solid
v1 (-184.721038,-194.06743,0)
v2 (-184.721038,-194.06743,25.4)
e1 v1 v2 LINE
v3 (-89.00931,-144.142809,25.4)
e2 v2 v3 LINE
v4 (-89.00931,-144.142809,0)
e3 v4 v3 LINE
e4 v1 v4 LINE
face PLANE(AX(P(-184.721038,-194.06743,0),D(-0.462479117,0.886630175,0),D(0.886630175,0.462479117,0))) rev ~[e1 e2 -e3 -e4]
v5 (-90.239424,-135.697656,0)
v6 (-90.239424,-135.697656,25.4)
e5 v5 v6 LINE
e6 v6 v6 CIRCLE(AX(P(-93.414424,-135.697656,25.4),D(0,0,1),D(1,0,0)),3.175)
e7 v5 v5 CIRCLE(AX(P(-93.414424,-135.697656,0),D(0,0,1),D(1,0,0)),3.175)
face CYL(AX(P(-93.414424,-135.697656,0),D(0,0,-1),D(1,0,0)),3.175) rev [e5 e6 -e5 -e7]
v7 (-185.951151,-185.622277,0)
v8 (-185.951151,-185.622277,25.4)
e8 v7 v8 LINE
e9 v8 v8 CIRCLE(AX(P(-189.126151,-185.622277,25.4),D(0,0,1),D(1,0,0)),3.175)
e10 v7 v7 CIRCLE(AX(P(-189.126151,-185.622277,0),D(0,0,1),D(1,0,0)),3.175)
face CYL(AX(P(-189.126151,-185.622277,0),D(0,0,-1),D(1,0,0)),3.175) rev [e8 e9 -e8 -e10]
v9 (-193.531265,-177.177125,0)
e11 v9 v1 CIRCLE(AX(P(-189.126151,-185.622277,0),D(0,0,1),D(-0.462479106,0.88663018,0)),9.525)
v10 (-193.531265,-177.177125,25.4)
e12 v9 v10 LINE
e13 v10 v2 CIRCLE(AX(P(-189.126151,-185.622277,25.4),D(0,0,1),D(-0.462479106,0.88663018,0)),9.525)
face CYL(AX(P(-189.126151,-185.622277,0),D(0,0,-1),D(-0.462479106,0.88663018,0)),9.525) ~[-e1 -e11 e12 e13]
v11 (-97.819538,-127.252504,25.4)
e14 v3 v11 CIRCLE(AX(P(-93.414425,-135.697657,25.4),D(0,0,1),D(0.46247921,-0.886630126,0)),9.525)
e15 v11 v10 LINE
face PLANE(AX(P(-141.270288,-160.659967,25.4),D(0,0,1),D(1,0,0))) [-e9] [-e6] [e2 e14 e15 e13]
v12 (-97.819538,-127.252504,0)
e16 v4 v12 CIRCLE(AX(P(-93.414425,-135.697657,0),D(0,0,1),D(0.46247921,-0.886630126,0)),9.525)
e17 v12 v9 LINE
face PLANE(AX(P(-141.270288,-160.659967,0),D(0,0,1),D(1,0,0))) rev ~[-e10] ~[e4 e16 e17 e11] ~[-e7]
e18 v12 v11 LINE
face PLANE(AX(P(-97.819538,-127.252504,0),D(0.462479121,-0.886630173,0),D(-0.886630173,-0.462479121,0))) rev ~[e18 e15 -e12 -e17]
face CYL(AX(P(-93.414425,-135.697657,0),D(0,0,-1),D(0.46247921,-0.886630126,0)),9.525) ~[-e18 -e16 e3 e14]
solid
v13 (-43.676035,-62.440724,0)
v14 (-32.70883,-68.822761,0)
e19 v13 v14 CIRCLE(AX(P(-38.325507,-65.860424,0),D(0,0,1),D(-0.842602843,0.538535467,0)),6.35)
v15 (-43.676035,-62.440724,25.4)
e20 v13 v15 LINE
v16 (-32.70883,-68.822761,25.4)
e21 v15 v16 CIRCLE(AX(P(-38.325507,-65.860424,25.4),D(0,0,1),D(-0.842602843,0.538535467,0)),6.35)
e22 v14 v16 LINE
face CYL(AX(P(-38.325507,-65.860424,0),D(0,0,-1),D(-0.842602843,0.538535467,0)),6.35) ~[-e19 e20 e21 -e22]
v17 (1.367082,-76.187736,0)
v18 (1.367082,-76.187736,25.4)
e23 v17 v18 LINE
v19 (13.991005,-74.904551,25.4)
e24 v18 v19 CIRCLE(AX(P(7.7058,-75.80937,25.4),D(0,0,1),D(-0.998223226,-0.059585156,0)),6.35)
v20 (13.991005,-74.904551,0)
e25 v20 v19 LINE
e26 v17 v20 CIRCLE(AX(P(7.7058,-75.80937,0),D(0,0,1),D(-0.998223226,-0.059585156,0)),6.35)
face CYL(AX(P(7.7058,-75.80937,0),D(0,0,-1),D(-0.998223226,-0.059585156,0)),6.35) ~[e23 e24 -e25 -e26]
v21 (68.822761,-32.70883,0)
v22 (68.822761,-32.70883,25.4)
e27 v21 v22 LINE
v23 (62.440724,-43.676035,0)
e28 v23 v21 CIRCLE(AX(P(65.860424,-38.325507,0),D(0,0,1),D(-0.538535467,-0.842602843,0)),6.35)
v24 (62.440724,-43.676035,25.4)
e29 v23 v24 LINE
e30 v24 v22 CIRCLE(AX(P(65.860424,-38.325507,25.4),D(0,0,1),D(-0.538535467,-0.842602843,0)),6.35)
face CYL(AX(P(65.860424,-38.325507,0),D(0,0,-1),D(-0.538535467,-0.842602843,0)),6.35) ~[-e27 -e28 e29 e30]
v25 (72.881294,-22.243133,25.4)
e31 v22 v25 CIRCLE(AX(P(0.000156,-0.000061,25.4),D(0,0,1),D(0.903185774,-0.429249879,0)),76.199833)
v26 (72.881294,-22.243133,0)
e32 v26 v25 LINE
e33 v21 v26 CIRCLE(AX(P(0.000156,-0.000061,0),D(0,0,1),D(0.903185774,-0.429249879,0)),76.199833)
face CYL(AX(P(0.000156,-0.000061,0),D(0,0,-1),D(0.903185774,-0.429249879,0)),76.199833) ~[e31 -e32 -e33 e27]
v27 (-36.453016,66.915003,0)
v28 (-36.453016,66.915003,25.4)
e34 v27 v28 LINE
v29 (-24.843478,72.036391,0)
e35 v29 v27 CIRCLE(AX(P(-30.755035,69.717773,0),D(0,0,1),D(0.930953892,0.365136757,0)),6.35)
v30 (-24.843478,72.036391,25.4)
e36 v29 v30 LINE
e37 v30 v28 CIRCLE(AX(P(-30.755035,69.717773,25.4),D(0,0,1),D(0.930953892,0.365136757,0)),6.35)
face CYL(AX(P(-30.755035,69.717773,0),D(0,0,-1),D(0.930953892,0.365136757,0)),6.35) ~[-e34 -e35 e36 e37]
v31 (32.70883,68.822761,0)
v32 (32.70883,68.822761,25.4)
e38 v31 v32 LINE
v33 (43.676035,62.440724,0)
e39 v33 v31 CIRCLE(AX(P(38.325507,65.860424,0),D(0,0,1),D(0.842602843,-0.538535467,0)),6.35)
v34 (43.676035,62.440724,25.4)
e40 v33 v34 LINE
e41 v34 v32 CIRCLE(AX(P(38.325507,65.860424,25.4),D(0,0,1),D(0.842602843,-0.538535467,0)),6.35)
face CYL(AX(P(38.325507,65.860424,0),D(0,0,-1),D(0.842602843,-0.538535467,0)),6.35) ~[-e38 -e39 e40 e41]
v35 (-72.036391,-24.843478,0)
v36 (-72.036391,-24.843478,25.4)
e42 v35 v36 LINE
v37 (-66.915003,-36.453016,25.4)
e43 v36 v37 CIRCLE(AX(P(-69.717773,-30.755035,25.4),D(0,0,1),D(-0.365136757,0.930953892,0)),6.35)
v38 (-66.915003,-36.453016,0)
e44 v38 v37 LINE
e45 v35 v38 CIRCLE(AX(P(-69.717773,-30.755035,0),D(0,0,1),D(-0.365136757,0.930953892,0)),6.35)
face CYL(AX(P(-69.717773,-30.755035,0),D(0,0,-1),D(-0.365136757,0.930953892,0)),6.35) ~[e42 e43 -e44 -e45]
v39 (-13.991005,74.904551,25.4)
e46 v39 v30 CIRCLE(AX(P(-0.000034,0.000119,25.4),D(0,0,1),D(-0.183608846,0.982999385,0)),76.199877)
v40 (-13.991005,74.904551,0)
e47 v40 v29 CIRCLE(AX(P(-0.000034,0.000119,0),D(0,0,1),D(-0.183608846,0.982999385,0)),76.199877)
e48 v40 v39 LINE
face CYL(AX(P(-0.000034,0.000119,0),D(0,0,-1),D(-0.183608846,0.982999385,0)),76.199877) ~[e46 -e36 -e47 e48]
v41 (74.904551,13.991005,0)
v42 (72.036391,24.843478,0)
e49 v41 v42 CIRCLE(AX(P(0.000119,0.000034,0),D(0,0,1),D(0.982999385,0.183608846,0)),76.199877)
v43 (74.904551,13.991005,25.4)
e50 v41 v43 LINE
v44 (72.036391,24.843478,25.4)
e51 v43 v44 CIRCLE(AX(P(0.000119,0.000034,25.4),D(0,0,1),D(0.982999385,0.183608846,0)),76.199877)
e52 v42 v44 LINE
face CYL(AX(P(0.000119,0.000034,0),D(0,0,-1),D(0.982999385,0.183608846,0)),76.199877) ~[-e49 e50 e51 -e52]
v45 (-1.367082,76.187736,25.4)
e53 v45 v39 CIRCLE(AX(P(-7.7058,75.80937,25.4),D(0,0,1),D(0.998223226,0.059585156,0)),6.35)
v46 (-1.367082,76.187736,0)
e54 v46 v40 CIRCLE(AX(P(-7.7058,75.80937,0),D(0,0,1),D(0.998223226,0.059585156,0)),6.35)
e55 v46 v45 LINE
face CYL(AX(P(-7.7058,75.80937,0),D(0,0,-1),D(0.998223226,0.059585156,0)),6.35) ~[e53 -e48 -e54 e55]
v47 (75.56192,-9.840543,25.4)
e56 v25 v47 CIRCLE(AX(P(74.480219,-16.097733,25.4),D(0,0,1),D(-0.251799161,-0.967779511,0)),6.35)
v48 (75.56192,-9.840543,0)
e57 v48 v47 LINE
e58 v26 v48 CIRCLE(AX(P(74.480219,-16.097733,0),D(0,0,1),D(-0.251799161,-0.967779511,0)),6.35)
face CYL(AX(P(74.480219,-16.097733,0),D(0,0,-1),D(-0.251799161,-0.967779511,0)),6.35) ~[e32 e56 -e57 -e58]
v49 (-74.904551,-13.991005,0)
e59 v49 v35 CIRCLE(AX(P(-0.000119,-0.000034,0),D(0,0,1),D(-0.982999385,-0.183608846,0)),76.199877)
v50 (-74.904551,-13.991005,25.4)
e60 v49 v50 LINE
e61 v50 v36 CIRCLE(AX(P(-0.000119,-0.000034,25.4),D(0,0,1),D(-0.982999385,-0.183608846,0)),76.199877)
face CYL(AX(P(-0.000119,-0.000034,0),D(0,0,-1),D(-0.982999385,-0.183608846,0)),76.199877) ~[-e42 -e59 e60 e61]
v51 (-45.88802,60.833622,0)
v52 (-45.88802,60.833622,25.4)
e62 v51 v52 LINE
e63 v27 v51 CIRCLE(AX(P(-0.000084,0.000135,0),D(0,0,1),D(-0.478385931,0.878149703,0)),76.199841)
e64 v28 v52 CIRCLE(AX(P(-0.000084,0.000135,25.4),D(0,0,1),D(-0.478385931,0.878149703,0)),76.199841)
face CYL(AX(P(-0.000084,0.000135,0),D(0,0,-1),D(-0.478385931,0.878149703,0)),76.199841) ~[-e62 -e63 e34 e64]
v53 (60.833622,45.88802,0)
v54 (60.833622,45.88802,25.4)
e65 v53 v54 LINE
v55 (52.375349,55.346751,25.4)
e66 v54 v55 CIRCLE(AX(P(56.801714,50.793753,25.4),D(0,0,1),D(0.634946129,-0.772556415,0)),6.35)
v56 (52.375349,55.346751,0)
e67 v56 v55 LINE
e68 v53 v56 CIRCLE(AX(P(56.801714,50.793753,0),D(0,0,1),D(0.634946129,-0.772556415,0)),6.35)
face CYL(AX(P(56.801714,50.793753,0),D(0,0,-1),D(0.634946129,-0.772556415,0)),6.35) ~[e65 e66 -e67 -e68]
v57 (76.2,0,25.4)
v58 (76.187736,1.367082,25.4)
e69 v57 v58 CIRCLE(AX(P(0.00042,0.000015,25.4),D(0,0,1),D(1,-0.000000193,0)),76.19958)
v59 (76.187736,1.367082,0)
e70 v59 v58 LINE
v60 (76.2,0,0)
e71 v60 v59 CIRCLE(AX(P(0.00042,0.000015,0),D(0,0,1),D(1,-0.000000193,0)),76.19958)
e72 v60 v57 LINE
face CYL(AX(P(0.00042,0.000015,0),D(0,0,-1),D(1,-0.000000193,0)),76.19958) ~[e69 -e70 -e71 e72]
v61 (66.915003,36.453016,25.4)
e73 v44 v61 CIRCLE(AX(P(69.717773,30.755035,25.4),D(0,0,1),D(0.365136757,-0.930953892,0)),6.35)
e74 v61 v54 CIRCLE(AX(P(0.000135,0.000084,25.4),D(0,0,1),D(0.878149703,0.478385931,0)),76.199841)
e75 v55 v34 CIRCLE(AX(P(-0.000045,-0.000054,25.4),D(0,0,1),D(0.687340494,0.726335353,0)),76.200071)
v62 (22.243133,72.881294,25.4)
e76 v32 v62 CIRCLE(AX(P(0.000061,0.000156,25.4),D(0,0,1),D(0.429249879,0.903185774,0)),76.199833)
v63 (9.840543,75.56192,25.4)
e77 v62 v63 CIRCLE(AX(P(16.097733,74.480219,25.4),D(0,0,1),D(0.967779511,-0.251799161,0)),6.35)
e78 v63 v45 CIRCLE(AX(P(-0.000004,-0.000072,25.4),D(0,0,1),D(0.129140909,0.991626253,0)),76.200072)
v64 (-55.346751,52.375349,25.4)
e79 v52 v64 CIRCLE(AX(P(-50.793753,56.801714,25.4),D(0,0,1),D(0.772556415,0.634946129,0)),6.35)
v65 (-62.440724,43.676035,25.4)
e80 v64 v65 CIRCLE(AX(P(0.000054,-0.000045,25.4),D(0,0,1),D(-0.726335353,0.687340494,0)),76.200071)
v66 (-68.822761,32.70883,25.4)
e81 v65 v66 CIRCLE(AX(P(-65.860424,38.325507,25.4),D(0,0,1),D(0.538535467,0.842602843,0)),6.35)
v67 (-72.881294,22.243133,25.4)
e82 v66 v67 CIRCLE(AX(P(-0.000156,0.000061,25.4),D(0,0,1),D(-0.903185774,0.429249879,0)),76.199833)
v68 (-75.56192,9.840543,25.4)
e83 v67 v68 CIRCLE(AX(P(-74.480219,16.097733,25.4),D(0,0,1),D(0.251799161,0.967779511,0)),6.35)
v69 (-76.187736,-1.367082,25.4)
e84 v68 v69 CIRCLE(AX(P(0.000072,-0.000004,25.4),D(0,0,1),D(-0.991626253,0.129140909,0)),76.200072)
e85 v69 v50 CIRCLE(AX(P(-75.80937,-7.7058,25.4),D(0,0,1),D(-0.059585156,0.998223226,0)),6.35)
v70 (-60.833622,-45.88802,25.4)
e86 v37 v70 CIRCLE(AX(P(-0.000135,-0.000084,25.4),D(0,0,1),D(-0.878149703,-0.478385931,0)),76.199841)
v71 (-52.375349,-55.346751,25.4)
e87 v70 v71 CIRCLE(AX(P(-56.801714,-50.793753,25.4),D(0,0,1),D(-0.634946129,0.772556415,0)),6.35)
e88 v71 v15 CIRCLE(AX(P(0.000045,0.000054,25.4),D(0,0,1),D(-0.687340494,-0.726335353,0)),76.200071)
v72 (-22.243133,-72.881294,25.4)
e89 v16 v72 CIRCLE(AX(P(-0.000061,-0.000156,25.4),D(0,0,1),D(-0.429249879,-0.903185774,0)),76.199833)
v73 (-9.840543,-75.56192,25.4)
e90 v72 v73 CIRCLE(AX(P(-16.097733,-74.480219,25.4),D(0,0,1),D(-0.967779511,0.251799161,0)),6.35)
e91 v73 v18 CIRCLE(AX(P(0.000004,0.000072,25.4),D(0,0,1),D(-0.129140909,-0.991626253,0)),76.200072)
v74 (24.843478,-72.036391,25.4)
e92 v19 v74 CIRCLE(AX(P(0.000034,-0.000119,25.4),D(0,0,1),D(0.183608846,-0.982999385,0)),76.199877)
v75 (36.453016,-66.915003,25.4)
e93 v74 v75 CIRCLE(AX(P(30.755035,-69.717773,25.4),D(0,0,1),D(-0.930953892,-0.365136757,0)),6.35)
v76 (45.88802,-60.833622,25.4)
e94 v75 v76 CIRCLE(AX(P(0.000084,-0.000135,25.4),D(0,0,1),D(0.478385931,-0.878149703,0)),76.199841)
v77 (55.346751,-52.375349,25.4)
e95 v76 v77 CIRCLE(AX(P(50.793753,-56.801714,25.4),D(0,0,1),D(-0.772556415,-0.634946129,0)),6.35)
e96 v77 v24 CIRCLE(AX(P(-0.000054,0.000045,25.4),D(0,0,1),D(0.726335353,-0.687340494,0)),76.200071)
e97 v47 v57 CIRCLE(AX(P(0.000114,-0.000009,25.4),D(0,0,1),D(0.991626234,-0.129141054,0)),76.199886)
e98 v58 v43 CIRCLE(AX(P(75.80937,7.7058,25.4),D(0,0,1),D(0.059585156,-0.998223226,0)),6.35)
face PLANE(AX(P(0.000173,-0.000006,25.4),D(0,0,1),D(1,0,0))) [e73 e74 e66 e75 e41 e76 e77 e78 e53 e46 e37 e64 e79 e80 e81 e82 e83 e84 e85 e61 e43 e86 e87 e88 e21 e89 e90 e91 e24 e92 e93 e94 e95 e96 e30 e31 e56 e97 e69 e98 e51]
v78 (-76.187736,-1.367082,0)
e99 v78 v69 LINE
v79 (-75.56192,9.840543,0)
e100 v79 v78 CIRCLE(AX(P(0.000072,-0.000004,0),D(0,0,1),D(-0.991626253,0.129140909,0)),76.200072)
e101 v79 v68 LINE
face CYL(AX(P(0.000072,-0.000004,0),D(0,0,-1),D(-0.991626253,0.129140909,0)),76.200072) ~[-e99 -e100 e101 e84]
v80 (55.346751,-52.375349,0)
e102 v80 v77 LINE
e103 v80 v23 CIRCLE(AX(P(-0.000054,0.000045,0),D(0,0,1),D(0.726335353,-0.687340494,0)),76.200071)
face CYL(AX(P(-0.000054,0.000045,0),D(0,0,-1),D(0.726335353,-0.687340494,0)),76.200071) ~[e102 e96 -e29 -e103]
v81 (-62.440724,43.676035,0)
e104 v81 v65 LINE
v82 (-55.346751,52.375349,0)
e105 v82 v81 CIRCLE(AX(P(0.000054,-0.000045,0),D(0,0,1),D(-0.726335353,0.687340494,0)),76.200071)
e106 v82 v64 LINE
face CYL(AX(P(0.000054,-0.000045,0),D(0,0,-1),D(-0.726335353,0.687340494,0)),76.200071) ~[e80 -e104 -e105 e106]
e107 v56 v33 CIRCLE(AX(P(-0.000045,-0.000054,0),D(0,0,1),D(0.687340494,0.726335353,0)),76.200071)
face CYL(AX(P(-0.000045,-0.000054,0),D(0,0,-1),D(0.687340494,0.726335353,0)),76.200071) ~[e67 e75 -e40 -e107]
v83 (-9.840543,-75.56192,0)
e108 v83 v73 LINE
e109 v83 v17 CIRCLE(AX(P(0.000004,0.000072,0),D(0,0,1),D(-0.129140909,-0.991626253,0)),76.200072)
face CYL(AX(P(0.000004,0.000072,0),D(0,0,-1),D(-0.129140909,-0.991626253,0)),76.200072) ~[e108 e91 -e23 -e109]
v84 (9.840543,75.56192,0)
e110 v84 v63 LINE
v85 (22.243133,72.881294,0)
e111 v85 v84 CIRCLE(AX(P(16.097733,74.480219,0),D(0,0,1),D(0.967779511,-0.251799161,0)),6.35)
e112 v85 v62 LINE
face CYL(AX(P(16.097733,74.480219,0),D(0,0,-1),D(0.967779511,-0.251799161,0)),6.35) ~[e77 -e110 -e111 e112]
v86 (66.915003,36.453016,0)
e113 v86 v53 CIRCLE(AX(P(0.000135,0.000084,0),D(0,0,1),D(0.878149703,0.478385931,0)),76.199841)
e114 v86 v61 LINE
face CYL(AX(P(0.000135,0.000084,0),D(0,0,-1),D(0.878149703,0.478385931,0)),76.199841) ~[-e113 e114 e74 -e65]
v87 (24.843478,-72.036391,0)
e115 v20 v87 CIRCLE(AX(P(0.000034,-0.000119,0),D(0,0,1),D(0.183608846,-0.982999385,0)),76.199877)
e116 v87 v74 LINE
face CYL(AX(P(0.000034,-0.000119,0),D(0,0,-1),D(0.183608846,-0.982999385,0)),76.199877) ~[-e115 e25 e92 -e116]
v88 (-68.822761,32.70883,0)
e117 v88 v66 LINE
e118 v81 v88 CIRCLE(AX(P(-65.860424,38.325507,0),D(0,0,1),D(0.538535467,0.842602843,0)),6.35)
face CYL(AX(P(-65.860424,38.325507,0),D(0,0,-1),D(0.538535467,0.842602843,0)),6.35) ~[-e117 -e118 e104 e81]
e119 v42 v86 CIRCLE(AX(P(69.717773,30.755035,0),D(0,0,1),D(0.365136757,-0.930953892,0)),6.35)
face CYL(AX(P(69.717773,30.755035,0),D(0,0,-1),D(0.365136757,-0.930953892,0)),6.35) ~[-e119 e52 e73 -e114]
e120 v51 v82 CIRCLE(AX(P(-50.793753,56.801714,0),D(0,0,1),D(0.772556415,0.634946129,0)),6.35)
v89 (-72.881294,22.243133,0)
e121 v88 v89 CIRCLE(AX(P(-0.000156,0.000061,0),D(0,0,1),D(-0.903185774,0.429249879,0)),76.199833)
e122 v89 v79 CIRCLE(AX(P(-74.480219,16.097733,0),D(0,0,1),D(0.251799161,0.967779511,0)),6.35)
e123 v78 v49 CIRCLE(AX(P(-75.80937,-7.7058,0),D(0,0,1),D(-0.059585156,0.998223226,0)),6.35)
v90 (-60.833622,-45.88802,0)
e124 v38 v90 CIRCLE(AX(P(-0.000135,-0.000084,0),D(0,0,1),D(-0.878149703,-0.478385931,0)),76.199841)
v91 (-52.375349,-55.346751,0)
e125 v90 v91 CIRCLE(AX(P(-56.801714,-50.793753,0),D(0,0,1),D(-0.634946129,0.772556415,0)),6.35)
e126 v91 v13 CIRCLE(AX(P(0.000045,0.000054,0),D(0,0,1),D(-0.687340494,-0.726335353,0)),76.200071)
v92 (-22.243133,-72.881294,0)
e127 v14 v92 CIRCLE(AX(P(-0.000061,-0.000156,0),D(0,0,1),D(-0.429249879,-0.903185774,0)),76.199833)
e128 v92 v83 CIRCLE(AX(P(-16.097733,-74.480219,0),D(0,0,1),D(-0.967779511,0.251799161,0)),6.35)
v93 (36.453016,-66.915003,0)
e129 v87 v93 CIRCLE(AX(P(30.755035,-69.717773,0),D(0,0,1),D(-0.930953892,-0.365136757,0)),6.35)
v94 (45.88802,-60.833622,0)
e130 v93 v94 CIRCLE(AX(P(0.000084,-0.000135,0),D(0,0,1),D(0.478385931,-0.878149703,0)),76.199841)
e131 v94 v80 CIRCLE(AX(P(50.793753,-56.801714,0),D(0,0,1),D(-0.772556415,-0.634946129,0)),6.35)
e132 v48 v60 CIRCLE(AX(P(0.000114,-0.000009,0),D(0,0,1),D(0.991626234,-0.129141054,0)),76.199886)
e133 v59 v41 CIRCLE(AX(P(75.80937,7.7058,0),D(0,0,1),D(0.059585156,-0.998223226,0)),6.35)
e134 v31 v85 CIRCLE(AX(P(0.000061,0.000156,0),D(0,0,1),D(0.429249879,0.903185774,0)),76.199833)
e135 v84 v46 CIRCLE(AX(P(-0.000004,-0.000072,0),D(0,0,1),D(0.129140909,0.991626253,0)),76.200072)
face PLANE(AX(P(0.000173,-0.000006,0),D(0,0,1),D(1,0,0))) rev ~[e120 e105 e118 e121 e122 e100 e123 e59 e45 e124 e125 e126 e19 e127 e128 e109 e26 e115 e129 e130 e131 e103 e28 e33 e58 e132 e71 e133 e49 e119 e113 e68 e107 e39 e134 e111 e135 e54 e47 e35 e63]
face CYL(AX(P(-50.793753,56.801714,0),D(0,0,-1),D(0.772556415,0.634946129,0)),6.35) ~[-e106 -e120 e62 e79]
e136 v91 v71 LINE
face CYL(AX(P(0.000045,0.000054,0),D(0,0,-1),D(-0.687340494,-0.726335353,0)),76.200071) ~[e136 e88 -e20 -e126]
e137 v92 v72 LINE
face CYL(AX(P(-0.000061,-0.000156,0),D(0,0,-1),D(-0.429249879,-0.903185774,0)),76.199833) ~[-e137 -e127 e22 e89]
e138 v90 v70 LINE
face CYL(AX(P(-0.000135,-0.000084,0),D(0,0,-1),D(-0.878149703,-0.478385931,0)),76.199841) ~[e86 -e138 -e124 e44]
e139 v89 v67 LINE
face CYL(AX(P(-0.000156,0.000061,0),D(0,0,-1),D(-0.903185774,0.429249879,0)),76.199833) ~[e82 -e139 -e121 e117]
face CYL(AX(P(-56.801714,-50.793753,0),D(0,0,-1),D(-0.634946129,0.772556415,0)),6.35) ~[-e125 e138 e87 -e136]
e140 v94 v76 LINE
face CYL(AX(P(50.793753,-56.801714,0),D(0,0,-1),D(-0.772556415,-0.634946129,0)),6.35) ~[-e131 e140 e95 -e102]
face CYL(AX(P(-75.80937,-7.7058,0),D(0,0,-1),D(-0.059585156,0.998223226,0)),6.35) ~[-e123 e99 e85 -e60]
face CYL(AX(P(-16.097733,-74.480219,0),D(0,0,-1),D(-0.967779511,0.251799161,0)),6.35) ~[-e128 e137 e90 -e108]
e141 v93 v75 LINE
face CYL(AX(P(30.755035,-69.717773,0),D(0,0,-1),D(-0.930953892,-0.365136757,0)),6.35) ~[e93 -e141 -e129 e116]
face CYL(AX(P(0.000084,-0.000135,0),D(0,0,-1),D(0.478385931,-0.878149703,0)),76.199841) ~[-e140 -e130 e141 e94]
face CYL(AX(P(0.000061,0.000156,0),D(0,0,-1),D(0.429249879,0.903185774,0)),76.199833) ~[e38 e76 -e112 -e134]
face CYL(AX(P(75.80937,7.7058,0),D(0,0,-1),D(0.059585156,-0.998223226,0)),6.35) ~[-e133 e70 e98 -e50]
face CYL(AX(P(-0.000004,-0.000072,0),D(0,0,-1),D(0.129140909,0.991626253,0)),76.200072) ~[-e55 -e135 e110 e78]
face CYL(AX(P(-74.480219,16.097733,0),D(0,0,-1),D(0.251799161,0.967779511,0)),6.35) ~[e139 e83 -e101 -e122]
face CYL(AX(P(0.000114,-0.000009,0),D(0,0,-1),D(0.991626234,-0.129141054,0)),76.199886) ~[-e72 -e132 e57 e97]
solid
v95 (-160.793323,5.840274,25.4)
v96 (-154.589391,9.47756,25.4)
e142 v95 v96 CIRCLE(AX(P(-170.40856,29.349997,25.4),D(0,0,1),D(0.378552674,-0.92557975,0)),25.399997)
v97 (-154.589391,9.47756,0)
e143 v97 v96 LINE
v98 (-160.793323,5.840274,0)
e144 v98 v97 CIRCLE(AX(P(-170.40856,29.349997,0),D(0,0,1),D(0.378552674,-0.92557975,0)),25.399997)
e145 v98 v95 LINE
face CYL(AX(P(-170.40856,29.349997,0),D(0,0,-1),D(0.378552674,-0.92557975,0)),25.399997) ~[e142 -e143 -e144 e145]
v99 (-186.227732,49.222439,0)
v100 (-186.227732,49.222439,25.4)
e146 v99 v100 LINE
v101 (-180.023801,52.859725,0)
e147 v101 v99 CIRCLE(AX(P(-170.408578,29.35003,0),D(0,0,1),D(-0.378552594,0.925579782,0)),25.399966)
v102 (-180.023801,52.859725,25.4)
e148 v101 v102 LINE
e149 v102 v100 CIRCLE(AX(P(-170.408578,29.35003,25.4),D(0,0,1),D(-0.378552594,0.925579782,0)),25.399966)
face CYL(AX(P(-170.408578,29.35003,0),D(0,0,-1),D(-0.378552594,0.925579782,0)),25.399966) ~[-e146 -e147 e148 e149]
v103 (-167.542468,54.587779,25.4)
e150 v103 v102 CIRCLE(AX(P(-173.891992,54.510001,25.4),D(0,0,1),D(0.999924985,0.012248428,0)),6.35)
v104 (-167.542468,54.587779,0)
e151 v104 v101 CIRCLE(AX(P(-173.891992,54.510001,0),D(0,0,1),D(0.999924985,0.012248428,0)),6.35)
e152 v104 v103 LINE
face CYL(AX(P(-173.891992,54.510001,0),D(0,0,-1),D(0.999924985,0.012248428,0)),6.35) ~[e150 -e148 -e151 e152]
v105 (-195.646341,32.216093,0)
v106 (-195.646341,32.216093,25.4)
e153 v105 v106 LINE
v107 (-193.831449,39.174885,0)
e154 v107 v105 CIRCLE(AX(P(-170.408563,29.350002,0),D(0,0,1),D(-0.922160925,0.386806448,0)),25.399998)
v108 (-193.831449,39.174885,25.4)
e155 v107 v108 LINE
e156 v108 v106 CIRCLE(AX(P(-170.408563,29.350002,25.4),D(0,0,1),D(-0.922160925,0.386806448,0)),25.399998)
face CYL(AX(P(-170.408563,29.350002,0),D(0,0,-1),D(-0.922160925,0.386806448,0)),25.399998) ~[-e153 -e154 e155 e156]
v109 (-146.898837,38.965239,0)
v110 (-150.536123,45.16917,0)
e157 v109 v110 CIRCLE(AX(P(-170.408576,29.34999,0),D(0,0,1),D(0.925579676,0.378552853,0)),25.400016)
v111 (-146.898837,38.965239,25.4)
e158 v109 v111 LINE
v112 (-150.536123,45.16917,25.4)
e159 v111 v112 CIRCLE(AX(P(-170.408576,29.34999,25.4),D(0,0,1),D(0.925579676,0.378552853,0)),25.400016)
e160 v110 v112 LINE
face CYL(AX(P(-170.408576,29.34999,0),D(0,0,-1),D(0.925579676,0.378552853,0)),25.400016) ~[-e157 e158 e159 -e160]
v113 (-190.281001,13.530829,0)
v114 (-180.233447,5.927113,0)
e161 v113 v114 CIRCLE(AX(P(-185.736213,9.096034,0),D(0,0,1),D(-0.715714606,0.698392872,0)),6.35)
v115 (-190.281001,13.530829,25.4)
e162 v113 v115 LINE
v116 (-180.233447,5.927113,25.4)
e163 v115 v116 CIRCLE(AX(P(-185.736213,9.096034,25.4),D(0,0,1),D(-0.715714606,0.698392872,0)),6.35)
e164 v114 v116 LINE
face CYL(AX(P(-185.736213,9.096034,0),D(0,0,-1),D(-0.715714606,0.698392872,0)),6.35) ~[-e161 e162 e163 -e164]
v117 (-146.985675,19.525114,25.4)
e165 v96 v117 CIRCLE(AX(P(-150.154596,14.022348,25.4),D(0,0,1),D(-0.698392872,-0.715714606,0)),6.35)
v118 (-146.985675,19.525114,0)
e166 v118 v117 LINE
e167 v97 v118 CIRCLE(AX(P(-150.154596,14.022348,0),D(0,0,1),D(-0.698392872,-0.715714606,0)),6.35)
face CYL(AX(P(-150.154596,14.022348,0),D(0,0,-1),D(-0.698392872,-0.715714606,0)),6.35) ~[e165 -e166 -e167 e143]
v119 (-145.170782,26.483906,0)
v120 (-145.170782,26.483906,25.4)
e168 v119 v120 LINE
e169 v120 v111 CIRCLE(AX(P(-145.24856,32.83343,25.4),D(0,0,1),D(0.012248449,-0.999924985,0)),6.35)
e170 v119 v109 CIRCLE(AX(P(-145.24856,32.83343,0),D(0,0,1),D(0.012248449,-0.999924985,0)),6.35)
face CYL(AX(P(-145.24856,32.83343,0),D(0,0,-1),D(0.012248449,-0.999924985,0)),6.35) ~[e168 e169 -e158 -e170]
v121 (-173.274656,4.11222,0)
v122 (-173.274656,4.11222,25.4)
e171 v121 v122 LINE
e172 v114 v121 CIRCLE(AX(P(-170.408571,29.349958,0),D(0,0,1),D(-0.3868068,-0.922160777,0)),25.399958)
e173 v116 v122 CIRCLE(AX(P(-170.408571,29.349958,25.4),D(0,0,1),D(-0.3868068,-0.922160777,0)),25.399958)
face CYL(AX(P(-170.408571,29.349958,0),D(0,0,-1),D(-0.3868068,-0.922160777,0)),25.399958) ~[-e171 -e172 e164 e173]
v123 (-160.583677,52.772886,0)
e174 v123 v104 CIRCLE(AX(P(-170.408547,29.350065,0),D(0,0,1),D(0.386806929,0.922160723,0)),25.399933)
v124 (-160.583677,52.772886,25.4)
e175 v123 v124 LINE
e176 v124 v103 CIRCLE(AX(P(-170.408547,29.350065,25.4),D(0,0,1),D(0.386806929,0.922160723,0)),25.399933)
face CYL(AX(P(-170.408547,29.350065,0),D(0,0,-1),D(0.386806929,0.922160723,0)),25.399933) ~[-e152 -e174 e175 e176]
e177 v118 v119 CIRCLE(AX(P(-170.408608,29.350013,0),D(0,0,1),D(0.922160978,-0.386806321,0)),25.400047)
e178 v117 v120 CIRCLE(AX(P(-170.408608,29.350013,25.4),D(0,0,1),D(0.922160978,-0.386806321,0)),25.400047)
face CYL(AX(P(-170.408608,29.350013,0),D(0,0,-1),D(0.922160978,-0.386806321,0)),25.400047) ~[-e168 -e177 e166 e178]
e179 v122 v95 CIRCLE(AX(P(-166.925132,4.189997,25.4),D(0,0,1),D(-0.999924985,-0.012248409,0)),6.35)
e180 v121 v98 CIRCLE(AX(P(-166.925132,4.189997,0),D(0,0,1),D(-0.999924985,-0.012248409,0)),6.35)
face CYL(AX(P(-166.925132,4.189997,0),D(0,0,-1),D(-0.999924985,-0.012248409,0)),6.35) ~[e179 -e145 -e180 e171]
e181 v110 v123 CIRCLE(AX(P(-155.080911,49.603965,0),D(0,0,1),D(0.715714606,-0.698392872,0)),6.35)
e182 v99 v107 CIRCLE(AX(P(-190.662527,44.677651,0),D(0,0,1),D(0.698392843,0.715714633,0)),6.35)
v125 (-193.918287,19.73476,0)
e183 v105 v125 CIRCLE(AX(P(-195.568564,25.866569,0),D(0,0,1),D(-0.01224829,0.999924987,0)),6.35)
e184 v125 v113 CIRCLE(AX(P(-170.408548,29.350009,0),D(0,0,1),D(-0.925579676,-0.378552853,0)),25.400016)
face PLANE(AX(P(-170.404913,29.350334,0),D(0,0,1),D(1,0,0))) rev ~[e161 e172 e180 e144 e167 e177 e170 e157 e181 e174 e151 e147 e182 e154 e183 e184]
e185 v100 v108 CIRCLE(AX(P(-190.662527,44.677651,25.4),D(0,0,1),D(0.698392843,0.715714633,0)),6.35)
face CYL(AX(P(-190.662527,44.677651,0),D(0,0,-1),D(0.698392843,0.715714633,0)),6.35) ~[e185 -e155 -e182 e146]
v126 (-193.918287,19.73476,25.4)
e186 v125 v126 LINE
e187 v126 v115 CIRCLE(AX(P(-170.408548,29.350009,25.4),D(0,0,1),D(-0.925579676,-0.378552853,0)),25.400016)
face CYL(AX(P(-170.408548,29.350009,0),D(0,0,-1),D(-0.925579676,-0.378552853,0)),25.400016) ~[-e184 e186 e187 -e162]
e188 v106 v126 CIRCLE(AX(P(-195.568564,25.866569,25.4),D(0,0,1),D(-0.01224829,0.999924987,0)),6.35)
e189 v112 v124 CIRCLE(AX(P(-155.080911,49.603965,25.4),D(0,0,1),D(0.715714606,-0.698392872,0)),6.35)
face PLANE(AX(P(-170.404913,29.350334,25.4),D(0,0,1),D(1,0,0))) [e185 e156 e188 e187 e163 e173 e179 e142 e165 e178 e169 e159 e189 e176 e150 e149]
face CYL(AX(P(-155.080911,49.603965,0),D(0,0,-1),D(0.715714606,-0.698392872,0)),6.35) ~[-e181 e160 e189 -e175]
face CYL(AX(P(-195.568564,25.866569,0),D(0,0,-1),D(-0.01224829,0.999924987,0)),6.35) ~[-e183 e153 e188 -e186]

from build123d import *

# Parameters (mm, degrees)
F1_DEPTH = 25.4
F3_DEPTH = 25.4
F4_R     = 3.175
F5_DEPTH = 25.4


with BuildPart() as f1:
    # F0 (on Top) → F1 (new body)
    with BuildSketch(Plane.XY):
        with BuildLine():
            ThreePointArc((75.56192, -9.840543), (76.040313, -4.930604), (76.2, 0))
            ThreePointArc((76.2, 0), (76.196934, 0.683569), (76.187736, 1.367082))
            ThreePointArc((76.187736, 1.367082), (75.80937, 7.7058), (74.904551, 13.991005))
            ThreePointArc((74.904551, 13.991005), (73.670579, 19.470127), (72.036391, 24.843478))
            ThreePointArc((72.036391, 24.843478), (69.717773, 30.755035), (66.915003, 36.453016))
            ThreePointArc((66.915003, 36.453016), (64.048284, 41.282652), (60.833622, 45.88802))
            ThreePointArc((60.833622, 45.88802), (56.801714, 50.793753), (52.375349, 55.346751))
            ThreePointArc((52.375349, 55.346751), (48.156497, 59.054143), (43.676035, 62.440724))
            ThreePointArc((43.676035, 62.440724), (38.325507, 65.860425), (32.70883, 68.822761))
            ThreePointArc((32.70883, 68.822761), (27.550816, 71.045004), (22.243133, 72.881294))
            ThreePointArc((22.243133, 72.881294), (16.097733, 74.480219), (9.840543, 75.56192))
            ThreePointArc((9.840543, 75.56192), (4.24827, 76.081484), (-1.367082, 76.187736))
            ThreePointArc((-1.367082, 76.187736), (-7.7058, 75.80937), (-13.991005, 74.904551))
            ThreePointArc((-13.991005, 74.904551), (-19.470127, 73.670579), (-24.843478, 72.036391))
            ThreePointArc((-24.843478, 72.036391), (-30.755035, 69.717773), (-36.453016, 66.915003))
            ThreePointArc((-36.453016, 66.915003), (-41.282652, 64.048284), (-45.88802, 60.833622))
            ThreePointArc((-45.88802, 60.833622), (-50.793753, 56.801714), (-55.346751, 52.375349))
            ThreePointArc((-55.346751, 52.375349), (-59.054143, 48.156497), (-62.440724, 43.676035))
            ThreePointArc((-62.440724, 43.676035), (-65.860425, 38.325507), (-68.822761, 32.70883))
            ThreePointArc((-68.822761, 32.70883), (-71.045004, 27.550816), (-72.881294, 22.243133))
            ThreePointArc((-72.881294, 22.243133), (-74.480219, 16.097733), (-75.56192, 9.840543))
            ThreePointArc((-75.56192, 9.840543), (-76.081484, 4.24827), (-76.187736, -1.367082))
            ThreePointArc((-76.187736, -1.367082), (-75.80937, -7.7058), (-74.904551, -13.991005))
            ThreePointArc((-74.904551, -13.991005), (-73.670579, -19.470127), (-72.036391, -24.843478))
            ThreePointArc((-72.036391, -24.843478), (-69.717773, -30.755035), (-66.915003, -36.453016))
            ThreePointArc((-66.915003, -36.453016), (-64.048284, -41.282652), (-60.833622, -45.88802))
            ThreePointArc((-60.833622, -45.88802), (-56.801714, -50.793753), (-52.375349, -55.346751))
            ThreePointArc((-52.375349, -55.346751), (-48.156497, -59.054143), (-43.676035, -62.440724))
            ThreePointArc((-43.676035, -62.440724), (-38.325507, -65.860425), (-32.70883, -68.822761))
            ThreePointArc((-32.70883, -68.822761), (-27.550816, -71.045004), (-22.243133, -72.881294))
            ThreePointArc((-22.243133, -72.881294), (-16.097733, -74.480219), (-9.840543, -75.56192))
            ThreePointArc((-9.840543, -75.56192), (-4.24827, -76.081484), (1.367082, -76.187736))
            ThreePointArc((1.367082, -76.187736), (7.7058, -75.80937), (13.991005, -74.904551))
            ThreePointArc((13.991005, -74.904551), (19.470127, -73.670579), (24.843478, -72.036391))
            ThreePointArc((24.843478, -72.036391), (30.755035, -69.717773), (36.453016, -66.915003))
            ThreePointArc((36.453016, -66.915003), (41.282652, -64.048284), (45.88802, -60.833622))
            ThreePointArc((45.88802, -60.833622), (50.793753, -56.801714), (55.346751, -52.375349))
            ThreePointArc((55.346751, -52.375349), (59.054143, -48.156497), (62.440724, -43.676035))
            ThreePointArc((62.440724, -43.676035), (65.860425, -38.325507), (68.822761, -32.70883))
            ThreePointArc((68.822761, -32.70883), (71.045004, -27.550816), (72.881294, -22.243133))
            ThreePointArc((72.881294, -22.243133), (74.480219, -16.097733), (75.56192, -9.840543))
        make_face()
        with BuildLine():
            ThreePointArc((-55.346751, 52.375349), (-50.793753, 56.801714), (-45.88802, 60.833622))
            ThreePointArc((-45.88802, 60.833622), (-55.026566, 61.53519), (-55.346751, 52.375349))
        make_face()
        with BuildLine():
            ThreePointArc((-68.822761, 32.70883), (-65.860425, 38.325507), (-62.440724, 43.676035))
            ThreePointArc((-62.440724, 43.676035), (-71.348793, 41.519299), (-68.822761, 32.70883))
        make_face()
        with BuildLine():
            ThreePointArc((-75.56192, 9.840543), (-74.480219, 16.097733), (-72.881294, 22.243133))
            ThreePointArc((-72.881294, 22.243133), (-80.686904, 17.43921), (-75.56192, 9.840543))
        make_face()
        with BuildLine():
            ThreePointArc((-76.187736, -1.367082), (-82.126818, -8.34795), (-74.904551, -13.991005))
            ThreePointArc((-74.904551, -13.991005), (-75.80937, -7.7058), (-76.187736, -1.367082))
        make_face()
        with BuildLine():
            ThreePointArc((-72.036391, -24.843478), (-75.527587, -33.317955), (-66.915003, -36.453016))
            ThreePointArc((-66.915003, -36.453016), (-69.717773, -30.755035), (-72.036391, -24.843478))
        make_face()
        with BuildLine():
            ThreePointArc((-60.833622, -45.88802), (-61.53519, -55.026566), (-52.375349, -55.346751))
            ThreePointArc((-52.375349, -55.346751), (-56.801714, -50.793753), (-60.833622, -45.88802))
        make_face()
        with BuildLine():
            ThreePointArc((-43.676035, -62.440724), (-41.519299, -71.348793), (-32.70883, -68.822761))
            ThreePointArc((-32.70883, -68.822761), (-38.325507, -65.860425), (-43.676035, -62.440724))
        make_face()
        with BuildLine():
            ThreePointArc((-22.243133, -72.881294), (-17.43921, -80.686904), (-9.840543, -75.56192))
            ThreePointArc((-9.840543, -75.56192), (-16.097733, -74.480219), (-22.243133, -72.881294))
        make_face()
        with BuildLine():
            ThreePointArc((1.367082, -76.187736), (8.34795, -82.126818), (13.991005, -74.904551))
            ThreePointArc((13.991005, -74.904551), (7.7058, -75.80937), (1.367082, -76.187736))
        make_face()
        with BuildLine():
            ThreePointArc((24.843478, -72.036391), (33.317955, -75.527587), (36.453016, -66.915003))
            ThreePointArc((36.453016, -66.915003), (30.755035, -69.717773), (24.843478, -72.036391))
        make_face()
        with BuildLine():
            ThreePointArc((45.88802, -60.833622), (55.026566, -61.53519), (55.346751, -52.375349))
            ThreePointArc((55.346751, -52.375349), (50.793753, -56.801714), (45.88802, -60.833622))
        make_face()
        with BuildLine():
            ThreePointArc((62.440724, -43.676035), (71.348793, -41.519299), (68.822761, -32.70883))
            ThreePointArc((68.822761, -32.70883), (65.860425, -38.325507), (62.440724, -43.676035))
        make_face()
        with BuildLine():
            ThreePointArc((72.881294, -22.243133), (80.686904, -17.43921), (75.56192, -9.840543))
            ThreePointArc((75.56192, -9.840543), (74.480219, -16.097733), (72.881294, -22.243133))
        make_face()
        with BuildLine():
            ThreePointArc((74.904551, 13.991005), (75.80937, 7.7058), (76.187736, 1.367082))
            ThreePointArc((76.187736, 1.367082), (82.126818, 8.34795), (74.904551, 13.991005))
        make_face()
        with BuildLine():
            ThreePointArc((66.915003, 36.453016), (69.717773, 30.755035), (72.036391, 24.843478))
            ThreePointArc((72.036391, 24.843478), (75.527587, 33.317955), (66.915003, 36.453016))
        make_face()
        with BuildLine():
            ThreePointArc((52.375349, 55.346751), (56.801714, 50.793753), (60.833622, 45.88802))
            ThreePointArc((60.833622, 45.88802), (61.53519, 55.026566), (52.375349, 55.346751))
        make_face()
        with BuildLine():
            ThreePointArc((32.70883, 68.822761), (38.325507, 65.860425), (43.676035, 62.440724))
            ThreePointArc((43.676035, 62.440724), (41.519299, 71.348793), (32.70883, 68.822761))
        make_face()
        with BuildLine():
            ThreePointArc((9.840543, 75.56192), (16.097733, 74.480219), (22.243133, 72.881294))
            ThreePointArc((22.243133, 72.881294), (17.43921, 80.686904), (9.840543, 75.56192))
        make_face()
        with BuildLine():
            ThreePointArc((-13.991005, 74.904551), (-7.7058, 75.80937), (-1.367082, 76.187736))
            ThreePointArc((-1.367082, 76.187736), (-8.34795, 82.126818), (-13.991005, 74.904551))
        make_face()
        with BuildLine():
            ThreePointArc((-36.453016, 66.915003), (-30.755035, 69.717773), (-24.843478, 72.036391))
            ThreePointArc((-24.843478, 72.036391), (-33.317955, 75.527587), (-36.453016, 66.915003))
        make_face()
    extrude(amount=F1_DEPTH)


with BuildPart() as f3:
    # F2 (on Top) → F3 (new body)
    with BuildSketch(Plane.XY):
        with BuildLine():
            ThreePointArc((-145.170782, 26.483906), (-145.049149, 27.914659), (-145.008562, 29.35))
            ThreePointArc((-145.008562, 29.35), (-145.48561, 34.249641), (-146.898837, 38.965239))
            ThreePointArc((-146.898837, 38.965239), (-148.496802, 42.196585), (-150.536123, 45.16917))
            ThreePointArc((-150.536123, 45.16917), (-155.080911, 49.603965), (-160.583677, 52.772886))
            ThreePointArc((-160.583677, 52.772886), (-163.998515, 53.927862), (-167.542468, 54.587779))
            ThreePointArc((-167.542468, 54.587779), (-173.891992, 54.510002), (-180.023801, 52.859725))
            ThreePointArc((-180.023801, 52.859725), (-183.255148, 51.26176), (-186.227732, 49.222439))
            ThreePointArc((-186.227732, 49.222439), (-190.662527, 44.677651), (-193.831449, 39.174885))
            ThreePointArc((-193.831449, 39.174885), (-194.986424, 35.760046), (-195.646341, 32.216093))
            ThreePointArc((-195.646341, 32.216093), (-195.568564, 25.86657), (-193.918287, 19.73476))
            ThreePointArc((-193.918287, 19.73476), (-192.320322, 16.503414), (-190.281001, 13.530829))
            ThreePointArc((-190.281001, 13.530829), (-185.736213, 9.096034), (-180.233447, 5.927113))
            ThreePointArc((-180.233447, 5.927113), (-176.818608, 4.772137), (-173.274656, 4.11222))
            ThreePointArc((-173.274656, 4.11222), (-166.925132, 4.189997), (-160.793323, 5.840274))
            ThreePointArc((-160.793323, 5.840274), (-157.561976, 7.438239), (-154.589391, 9.47756))
            ThreePointArc((-154.589391, 9.47756), (-150.154597, 14.022348), (-146.985675, 19.525114))
            ThreePointArc((-146.985675, 19.525114), (-145.8307, 22.939953), (-145.170782, 26.483906))
        make_face()
        with BuildLine():
            ThreePointArc((-193.918287, 19.73476), (-195.568564, 25.86657), (-195.646341, 32.216093))
            ThreePointArc((-195.646341, 32.216093), (-201.858565, 24.995712), (-193.918287, 19.73476))
        make_face()
        with BuildLine():
            ThreePointArc((-193.831449, 39.174885), (-190.662527, 44.677651), (-186.227732, 49.222439))
            ThreePointArc((-186.227732, 49.222439), (-195.726018, 48.509564), (-193.831449, 39.174885))
        make_face()
        with BuildLine():
            ThreePointArc((-180.023801, 52.859725), (-173.891992, 54.510002), (-167.542468, 54.587779))
            ThreePointArc((-167.542468, 54.587779), (-174.762849, 60.800002), (-180.023801, 52.859725))
        make_face()
        with BuildLine():
            ThreePointArc((-160.583677, 52.772886), (-155.080911, 49.603965), (-150.536123, 45.16917))
            ThreePointArc((-150.536123, 45.16917), (-151.248998, 54.667456), (-160.583677, 52.772886))
        make_face()
        with BuildLine():
            ThreePointArc((-146.898837, 38.965239), (-145.48561, 34.249641), (-145.008562, 29.35))
            ThreePointArc((-145.008562, 29.35), (-145.049149, 27.914659), (-145.170782, 26.483906))
            ThreePointArc((-145.170782, 26.483906), (-138.958559, 33.704287), (-146.898837, 38.965239))
        make_face()
        with BuildLine():
            ThreePointArc((-154.589391, 9.47756), (-145.091105, 10.190435), (-146.985675, 19.525114))
            ThreePointArc((-146.985675, 19.525114), (-150.154597, 14.022348), (-154.589391, 9.47756))
        make_face()
        with BuildLine():
            ThreePointArc((-173.274656, 4.11222), (-166.054274, -2.100003), (-160.793323, 5.840274))
            ThreePointArc((-160.793323, 5.840274), (-166.925132, 4.189997), (-173.274656, 4.11222))
        make_face()
        with BuildLine():
            ThreePointArc((-190.281001, 13.530829), (-189.568126, 4.032543), (-180.233447, 5.927113))
            ThreePointArc((-180.233447, 5.927113), (-185.736213, 9.096034), (-190.281001, 13.530829))
        make_face()
    extrude(amount=F3_DEPTH)


with BuildPart() as f5:
    # F4 (on Top) → F5 (new body)
    with BuildSketch(Plane.XY):
        with BuildLine():
            Line((-97.819538, -127.252504), (-193.531265, -177.177125))
            ThreePointArc((-193.531265, -177.177125), (-197.571304, -190.027391), (-184.721038, -194.06743))
            Line((-184.721038, -194.06743), (-89.00931, -144.142809))
            ThreePointArc((-89.00931, -144.142809), (-84.969272, -131.292543), (-97.819538, -127.252504))
        make_face()
        with Locations((-189.126151, -185.622277)):
            Circle(F4_R, mode=Mode.SUBTRACT)
        with Locations((-93.414424, -135.697656)):
            Circle(F4_R, mode=Mode.SUBTRACT)
    extrude(amount=F5_DEPTH)


solid = Compound([f1.part, f3.part, f5.part])
